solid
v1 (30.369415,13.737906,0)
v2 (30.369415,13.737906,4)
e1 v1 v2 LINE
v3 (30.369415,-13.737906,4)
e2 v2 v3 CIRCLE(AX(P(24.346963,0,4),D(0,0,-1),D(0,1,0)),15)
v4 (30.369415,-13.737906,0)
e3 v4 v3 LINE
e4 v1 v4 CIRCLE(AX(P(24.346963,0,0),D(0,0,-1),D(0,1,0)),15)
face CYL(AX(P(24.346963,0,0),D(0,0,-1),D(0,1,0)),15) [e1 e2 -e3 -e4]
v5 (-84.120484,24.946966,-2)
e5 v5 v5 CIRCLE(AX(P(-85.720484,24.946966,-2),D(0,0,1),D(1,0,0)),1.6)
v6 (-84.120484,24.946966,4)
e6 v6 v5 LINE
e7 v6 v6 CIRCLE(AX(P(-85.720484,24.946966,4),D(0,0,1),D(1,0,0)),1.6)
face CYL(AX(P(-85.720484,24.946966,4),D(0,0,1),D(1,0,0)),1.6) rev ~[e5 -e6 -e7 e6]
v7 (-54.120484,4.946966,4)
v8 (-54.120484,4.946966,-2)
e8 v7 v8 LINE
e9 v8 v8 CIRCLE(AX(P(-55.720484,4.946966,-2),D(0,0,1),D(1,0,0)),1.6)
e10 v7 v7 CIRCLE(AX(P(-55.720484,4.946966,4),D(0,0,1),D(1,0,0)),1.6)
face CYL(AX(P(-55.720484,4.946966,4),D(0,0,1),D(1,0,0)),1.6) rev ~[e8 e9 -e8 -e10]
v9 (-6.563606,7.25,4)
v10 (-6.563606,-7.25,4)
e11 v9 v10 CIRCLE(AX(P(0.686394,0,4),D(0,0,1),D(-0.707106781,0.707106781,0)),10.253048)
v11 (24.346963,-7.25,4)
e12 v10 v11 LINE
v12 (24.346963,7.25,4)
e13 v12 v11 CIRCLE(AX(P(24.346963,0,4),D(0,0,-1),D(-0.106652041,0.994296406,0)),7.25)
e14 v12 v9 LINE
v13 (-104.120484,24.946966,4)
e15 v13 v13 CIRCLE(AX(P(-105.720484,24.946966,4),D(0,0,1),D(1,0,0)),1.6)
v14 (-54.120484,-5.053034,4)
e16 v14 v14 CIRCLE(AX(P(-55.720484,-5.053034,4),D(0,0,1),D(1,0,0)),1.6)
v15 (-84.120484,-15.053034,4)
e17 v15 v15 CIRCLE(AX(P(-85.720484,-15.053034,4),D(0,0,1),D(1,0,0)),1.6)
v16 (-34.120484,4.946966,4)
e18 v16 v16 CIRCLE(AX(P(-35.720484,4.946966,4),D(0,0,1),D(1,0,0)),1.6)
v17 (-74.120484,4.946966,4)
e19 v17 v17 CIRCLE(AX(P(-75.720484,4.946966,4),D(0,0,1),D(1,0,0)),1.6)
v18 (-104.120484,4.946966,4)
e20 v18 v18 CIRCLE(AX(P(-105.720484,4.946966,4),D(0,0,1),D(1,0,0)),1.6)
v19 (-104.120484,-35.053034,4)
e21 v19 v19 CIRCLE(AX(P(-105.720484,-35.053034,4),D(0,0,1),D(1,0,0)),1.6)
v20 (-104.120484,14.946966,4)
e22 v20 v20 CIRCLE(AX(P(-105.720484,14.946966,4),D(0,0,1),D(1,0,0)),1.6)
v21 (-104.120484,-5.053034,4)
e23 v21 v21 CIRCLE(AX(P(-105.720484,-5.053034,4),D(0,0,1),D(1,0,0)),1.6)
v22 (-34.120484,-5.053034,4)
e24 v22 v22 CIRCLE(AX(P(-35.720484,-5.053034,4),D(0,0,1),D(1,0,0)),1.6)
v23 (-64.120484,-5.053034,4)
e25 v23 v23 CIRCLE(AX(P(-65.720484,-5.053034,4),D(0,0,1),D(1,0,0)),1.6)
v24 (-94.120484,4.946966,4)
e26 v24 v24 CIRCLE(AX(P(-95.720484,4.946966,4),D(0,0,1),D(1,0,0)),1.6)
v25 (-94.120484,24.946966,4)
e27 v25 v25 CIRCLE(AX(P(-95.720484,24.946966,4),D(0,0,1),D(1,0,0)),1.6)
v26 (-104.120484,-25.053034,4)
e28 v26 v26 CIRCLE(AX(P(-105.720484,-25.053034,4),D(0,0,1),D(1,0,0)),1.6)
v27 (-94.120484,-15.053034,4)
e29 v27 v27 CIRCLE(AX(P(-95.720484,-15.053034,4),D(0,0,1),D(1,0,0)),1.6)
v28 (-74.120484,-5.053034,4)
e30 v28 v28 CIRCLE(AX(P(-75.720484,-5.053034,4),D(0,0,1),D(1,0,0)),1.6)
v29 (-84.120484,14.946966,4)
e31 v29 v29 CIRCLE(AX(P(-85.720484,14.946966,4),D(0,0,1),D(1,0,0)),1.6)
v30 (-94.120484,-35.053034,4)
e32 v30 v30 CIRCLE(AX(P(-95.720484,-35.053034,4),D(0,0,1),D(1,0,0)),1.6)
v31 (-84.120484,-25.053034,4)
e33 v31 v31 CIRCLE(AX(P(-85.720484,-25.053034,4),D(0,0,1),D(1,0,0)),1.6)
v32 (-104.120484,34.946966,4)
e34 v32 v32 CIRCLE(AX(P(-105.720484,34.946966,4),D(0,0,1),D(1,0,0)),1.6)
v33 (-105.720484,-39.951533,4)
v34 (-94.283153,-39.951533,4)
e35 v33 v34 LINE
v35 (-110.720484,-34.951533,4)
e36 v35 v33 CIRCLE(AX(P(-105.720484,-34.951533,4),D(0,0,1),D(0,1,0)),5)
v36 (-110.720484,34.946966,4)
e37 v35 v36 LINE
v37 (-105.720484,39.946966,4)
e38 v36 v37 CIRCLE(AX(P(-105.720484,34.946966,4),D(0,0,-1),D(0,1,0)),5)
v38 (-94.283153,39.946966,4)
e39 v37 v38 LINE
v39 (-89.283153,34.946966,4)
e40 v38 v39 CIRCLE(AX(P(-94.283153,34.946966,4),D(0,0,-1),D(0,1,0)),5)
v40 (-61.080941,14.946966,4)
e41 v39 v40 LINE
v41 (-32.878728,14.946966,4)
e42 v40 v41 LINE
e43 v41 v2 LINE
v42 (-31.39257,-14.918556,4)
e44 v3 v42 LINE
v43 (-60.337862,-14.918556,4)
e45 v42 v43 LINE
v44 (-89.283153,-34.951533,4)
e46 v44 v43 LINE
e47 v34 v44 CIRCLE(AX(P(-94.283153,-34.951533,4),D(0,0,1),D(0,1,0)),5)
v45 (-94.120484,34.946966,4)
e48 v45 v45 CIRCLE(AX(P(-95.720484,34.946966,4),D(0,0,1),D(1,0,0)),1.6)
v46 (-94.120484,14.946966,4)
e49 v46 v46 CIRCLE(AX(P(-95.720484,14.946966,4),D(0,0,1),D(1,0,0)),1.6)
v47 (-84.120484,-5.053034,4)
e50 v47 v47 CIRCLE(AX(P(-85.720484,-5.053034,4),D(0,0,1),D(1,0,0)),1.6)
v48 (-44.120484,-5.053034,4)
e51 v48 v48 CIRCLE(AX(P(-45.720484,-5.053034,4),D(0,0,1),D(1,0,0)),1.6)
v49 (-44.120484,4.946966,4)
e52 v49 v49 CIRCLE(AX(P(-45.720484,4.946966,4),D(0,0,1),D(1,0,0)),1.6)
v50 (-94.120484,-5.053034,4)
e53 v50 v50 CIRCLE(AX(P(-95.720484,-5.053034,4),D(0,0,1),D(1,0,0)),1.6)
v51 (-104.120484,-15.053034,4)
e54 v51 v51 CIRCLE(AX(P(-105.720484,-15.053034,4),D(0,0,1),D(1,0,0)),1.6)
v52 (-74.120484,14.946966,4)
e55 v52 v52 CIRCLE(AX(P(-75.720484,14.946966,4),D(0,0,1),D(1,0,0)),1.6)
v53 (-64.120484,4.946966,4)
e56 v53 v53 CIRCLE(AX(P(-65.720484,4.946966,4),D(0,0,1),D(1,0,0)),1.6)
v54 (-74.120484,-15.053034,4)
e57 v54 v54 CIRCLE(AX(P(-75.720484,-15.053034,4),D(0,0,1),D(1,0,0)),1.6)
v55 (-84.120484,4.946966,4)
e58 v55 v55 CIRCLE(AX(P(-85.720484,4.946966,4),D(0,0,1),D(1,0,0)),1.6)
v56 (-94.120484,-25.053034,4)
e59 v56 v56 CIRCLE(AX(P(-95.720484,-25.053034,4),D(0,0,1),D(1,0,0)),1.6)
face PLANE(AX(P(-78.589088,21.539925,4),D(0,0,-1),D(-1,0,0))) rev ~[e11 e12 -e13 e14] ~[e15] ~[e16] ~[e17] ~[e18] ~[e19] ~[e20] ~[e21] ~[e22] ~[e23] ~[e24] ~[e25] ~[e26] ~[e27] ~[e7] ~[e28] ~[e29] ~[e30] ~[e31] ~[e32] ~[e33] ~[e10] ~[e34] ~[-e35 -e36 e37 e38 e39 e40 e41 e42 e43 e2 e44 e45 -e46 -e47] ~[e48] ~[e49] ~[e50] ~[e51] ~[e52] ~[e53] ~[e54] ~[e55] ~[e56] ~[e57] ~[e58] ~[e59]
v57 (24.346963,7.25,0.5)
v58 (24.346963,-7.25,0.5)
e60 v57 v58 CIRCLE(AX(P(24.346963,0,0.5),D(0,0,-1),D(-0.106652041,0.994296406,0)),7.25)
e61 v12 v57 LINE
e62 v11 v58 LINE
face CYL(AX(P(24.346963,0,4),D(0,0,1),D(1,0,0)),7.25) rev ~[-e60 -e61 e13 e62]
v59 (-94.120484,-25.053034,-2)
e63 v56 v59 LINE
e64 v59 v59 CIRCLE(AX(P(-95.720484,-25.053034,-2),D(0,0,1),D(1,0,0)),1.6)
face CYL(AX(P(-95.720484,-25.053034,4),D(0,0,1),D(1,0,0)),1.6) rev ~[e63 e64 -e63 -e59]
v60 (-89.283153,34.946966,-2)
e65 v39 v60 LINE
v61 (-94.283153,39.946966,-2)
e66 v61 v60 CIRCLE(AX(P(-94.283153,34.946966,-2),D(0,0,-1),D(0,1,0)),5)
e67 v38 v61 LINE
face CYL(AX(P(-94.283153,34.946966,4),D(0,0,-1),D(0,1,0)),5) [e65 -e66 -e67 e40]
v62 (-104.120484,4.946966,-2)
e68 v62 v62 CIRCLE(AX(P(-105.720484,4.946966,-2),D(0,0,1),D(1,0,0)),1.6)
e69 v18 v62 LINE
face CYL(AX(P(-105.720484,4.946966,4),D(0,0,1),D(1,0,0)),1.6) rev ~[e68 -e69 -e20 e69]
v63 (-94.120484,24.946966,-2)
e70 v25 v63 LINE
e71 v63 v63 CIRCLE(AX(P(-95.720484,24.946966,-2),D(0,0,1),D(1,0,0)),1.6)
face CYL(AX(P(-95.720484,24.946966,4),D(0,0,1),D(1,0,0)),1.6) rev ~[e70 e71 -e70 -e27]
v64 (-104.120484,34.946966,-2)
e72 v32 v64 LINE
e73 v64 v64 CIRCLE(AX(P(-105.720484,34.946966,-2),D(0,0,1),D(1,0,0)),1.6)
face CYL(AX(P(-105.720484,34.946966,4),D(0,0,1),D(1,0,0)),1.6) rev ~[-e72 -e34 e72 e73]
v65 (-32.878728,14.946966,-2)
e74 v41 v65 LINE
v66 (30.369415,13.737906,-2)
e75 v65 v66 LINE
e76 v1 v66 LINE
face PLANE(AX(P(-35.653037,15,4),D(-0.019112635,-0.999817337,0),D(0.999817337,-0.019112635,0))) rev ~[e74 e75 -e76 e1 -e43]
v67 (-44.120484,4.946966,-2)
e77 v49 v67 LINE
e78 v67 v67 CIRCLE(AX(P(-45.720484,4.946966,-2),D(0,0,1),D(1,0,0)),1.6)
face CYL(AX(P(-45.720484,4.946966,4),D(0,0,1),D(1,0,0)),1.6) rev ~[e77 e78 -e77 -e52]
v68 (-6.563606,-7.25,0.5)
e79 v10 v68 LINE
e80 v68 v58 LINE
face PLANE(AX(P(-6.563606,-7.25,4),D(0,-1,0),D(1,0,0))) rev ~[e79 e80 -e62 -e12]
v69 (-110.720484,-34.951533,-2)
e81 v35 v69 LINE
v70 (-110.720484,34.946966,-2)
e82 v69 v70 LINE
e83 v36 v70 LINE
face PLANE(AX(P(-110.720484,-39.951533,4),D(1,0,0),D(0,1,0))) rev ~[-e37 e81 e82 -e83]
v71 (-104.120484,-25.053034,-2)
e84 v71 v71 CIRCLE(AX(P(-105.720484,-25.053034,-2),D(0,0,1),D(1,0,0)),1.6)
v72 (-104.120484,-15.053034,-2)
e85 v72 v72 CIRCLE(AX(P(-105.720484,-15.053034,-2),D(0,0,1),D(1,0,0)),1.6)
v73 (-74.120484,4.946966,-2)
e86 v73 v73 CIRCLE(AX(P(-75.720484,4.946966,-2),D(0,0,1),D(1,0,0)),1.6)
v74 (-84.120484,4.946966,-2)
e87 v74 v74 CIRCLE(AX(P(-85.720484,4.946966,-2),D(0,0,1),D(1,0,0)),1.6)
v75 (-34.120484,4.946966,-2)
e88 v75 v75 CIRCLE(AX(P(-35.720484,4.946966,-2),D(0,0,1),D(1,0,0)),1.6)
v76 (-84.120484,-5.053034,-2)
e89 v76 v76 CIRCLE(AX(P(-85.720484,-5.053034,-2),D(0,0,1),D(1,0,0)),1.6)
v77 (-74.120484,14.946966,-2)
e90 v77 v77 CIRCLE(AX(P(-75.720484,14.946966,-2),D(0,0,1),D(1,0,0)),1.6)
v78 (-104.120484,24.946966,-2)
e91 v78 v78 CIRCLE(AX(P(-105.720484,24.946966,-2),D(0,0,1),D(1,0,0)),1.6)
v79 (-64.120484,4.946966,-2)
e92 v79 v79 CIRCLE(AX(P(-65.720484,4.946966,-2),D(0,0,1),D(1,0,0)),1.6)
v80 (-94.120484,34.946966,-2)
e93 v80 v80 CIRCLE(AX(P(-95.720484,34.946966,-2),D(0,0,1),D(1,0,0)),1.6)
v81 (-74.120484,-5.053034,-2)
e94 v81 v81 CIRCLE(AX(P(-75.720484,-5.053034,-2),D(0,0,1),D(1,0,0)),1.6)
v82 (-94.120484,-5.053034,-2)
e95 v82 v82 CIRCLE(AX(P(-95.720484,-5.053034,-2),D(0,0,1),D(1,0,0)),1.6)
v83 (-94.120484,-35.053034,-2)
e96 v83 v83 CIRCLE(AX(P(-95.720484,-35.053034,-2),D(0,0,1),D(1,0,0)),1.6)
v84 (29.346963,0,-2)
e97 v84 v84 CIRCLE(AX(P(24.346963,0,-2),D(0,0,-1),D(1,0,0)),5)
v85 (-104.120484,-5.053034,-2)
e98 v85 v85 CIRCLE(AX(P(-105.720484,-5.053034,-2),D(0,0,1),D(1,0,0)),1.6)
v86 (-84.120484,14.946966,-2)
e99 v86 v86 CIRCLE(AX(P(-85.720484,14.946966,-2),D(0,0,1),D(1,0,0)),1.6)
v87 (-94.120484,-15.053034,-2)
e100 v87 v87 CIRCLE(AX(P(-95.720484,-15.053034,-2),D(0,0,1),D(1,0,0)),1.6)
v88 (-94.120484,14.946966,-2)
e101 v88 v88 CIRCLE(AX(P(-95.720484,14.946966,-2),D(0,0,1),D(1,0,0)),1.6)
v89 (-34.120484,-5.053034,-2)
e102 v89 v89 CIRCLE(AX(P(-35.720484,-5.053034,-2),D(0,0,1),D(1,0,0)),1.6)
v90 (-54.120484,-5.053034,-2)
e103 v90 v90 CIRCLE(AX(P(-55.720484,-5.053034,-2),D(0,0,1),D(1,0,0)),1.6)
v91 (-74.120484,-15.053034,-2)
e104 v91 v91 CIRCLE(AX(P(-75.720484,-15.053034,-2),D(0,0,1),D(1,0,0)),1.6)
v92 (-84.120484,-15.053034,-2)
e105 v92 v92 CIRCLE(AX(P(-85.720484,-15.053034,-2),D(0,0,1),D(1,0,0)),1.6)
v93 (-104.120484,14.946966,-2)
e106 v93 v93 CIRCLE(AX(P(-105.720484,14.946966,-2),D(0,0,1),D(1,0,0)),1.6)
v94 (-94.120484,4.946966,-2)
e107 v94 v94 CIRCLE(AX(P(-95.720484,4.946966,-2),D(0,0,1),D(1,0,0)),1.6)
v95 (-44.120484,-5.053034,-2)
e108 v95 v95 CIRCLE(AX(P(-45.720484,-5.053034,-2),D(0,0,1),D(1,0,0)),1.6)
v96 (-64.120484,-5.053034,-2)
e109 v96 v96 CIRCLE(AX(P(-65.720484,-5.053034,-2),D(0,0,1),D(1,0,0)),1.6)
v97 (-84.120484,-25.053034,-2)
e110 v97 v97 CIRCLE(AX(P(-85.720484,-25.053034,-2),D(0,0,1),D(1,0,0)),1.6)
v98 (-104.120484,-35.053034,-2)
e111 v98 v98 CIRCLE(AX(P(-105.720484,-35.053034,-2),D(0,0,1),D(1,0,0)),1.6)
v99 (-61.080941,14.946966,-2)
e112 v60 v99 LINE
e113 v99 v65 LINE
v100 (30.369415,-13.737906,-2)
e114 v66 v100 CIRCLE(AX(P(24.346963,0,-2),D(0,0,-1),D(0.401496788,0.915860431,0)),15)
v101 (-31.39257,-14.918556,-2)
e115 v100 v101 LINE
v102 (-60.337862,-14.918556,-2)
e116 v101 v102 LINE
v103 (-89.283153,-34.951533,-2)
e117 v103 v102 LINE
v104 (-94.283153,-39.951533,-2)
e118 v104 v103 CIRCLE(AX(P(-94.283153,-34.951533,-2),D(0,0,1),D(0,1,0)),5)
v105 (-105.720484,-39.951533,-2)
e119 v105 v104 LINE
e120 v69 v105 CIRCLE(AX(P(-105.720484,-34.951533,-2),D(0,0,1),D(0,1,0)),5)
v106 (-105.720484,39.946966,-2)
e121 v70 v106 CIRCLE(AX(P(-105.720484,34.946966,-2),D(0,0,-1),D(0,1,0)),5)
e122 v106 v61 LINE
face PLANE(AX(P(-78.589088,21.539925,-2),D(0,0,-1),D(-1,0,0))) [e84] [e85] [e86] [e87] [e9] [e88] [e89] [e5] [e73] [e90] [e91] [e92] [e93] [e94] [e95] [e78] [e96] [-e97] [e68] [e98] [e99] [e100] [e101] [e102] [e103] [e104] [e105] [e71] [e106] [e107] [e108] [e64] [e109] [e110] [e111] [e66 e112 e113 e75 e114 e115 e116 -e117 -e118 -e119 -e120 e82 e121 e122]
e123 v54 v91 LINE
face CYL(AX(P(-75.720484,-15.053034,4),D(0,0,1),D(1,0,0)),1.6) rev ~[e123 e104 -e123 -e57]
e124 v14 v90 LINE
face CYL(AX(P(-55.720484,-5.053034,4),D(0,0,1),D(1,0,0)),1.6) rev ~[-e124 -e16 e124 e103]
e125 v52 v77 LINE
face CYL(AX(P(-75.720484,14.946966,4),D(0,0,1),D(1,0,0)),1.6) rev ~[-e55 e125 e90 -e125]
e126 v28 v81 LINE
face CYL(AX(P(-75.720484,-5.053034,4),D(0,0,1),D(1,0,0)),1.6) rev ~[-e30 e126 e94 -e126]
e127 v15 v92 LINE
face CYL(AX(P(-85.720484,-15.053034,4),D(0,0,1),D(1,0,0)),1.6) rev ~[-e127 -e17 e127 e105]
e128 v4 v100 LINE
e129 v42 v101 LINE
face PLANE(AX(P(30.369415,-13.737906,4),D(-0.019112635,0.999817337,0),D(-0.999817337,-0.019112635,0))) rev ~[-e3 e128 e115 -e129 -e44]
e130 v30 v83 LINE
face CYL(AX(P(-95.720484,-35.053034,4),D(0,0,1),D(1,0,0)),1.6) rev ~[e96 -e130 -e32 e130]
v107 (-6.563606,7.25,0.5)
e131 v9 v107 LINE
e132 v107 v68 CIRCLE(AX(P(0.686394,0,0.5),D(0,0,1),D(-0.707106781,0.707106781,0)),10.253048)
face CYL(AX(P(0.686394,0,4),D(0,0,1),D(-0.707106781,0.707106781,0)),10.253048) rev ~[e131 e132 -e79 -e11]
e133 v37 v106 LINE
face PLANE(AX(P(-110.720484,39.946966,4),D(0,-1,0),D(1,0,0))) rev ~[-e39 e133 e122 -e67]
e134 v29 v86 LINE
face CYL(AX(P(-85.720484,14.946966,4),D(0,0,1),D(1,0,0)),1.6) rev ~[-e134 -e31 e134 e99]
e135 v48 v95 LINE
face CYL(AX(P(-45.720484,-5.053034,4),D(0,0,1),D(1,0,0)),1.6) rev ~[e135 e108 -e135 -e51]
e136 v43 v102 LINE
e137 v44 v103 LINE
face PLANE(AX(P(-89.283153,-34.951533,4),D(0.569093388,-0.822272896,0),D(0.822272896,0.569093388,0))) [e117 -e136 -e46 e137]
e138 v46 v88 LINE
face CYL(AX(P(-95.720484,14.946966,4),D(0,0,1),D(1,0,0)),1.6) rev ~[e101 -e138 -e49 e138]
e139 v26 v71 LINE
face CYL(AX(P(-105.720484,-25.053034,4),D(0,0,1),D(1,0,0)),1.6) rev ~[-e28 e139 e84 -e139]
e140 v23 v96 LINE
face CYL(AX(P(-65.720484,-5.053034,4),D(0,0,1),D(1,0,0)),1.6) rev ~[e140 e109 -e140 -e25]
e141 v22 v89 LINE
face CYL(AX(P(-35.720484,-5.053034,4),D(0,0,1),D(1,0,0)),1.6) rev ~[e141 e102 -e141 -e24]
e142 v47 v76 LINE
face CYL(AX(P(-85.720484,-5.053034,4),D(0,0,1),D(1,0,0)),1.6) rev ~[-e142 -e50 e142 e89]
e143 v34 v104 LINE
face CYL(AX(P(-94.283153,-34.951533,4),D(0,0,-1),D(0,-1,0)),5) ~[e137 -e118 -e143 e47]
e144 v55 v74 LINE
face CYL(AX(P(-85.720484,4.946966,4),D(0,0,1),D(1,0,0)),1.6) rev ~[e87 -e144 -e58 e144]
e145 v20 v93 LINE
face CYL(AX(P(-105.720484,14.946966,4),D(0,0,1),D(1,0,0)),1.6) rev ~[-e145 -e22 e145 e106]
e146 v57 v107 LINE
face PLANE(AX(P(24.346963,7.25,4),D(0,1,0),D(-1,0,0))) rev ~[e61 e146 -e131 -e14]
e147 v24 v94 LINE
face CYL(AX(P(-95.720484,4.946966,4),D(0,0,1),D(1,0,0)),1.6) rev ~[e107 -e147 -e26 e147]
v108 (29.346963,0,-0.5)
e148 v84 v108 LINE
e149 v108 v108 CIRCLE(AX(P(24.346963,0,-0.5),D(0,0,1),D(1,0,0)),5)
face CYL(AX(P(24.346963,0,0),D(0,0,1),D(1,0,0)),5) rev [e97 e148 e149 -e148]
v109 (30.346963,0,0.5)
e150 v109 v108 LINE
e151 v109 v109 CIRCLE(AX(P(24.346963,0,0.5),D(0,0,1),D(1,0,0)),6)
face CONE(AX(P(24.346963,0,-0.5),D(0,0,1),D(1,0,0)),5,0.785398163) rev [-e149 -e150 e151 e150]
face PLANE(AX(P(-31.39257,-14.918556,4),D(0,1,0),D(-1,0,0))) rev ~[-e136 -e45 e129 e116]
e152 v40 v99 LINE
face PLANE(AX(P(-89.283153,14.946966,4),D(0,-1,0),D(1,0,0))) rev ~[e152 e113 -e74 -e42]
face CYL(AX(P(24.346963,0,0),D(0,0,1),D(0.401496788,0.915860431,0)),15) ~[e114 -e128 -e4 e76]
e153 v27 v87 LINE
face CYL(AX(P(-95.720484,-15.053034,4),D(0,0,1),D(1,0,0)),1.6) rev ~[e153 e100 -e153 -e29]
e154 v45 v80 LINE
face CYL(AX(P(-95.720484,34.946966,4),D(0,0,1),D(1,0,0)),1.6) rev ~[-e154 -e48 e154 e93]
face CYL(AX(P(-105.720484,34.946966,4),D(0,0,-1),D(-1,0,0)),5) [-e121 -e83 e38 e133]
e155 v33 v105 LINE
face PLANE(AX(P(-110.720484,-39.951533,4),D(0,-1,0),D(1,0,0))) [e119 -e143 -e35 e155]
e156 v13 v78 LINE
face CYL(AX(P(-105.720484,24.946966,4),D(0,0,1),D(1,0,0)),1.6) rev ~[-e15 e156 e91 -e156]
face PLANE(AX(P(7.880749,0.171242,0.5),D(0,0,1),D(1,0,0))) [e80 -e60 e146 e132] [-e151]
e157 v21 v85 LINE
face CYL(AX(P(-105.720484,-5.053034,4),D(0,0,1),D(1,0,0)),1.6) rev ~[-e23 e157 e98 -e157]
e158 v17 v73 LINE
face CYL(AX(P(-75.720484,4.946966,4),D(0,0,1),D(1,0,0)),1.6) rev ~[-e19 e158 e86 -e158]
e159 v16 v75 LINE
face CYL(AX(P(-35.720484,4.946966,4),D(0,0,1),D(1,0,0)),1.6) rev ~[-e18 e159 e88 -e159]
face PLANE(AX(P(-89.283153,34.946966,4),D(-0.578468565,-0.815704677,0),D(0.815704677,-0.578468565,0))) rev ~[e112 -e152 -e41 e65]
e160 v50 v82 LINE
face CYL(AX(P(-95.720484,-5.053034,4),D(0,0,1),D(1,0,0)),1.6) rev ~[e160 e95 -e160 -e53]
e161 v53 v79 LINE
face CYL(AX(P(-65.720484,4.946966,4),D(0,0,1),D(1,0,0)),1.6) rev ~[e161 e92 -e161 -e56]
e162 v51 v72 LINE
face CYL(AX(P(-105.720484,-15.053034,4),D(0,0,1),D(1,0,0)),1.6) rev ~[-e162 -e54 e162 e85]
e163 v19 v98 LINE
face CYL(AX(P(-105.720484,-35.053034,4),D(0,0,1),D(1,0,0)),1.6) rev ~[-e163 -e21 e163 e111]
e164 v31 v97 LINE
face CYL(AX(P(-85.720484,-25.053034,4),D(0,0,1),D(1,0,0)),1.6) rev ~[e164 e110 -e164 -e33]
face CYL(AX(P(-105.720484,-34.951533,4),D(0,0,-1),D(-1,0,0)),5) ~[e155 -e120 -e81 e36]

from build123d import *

# Parameters (mm, degrees)
Y_KSEKLIK_EKSTR_ZYON1_DEPTH = 4
KES_EKSTR_ZYON1_START       = -4
KES_EKSTR_ZYON1_DEPTH       = 4
IZIM3_R                     = 5
KES_EKSTR_ZYON2_DEPTH       = 4
KES_EKSTR_ZYON3_DEPTH       = 4
IZIM10_R                    = 7.25
IZIM10_R_2                  = 5
KES_EKSTR_ZYON4_DEPTH       = 3.5
IZIM11_R                    = 5
Y_KSEKLIK_EKSTR_ZYON3_DEPTH = 2
PAH2_SIZE                   = 1
Y_KSEKLIK_EKSTR_ZYON4_DEPTH = 6
Y_KSEKLIK_EKSTR_ZYON5_DEPTH = 6
IZIM14_W                    = 60
IZIM14_H                    = 79.898499323
Y_KSEKLIK_EKSTR_ZYON6_DEPTH = 6
KES_EKSTR_ZYON5_DEPTH       = 11
RADYUS1_R                   = 5
Y_KSEKLIK_EKSTR_ZYON7_DEPTH = 6
KES_EKSTR_ZYON6_DEPTH       = 3.5
IZIM19_R                    = 1.6
KES_EKSTR_ZYON7_DEPTH       = 11


with BuildPart() as part:
    # Çizim1 → Yükseklik-Ekstrüzyon1 (new body)
    with BuildSketch(Plane.XY):
        with BuildLine():
            Line((-35.653037037, 15), (24.346962963, 15))
            ThreePointArc((24.346962963, 15), (39.346962963, 0), (24.346962963, -15))
            Line((24.346962963, -15), (-35.653037037, -15))
            ThreePointArc((-35.653037037, -15), (-50.653037037, 0), (-35.653037037, 15))
        make_face()
    extrude(amount=Y_KSEKLIK_EKSTR_ZYON1_DEPTH)

    # Çizim2 → Kes-Ekstrüzyon1 (cut)
    with BuildSketch(Plane.XY.offset(4).offset(KES_EKSTR_ZYON1_START)):
        Polygon((-11.560212186, 15), (-35.653037037, 15), (-33.243754552, 4.590717515), (-10.375990279, 9.883580305), align=None)
        Polygon((-33.243754552, -4.590717515), (-35.653037037, -15), (-11.560212186, -15), (-10.375990279, -9.883580305), align=None)
        with BuildLine():
            Line((-10.375990279, 9.883580305), (-9.150929701, 4.590717515))
            Line((-9.150929701, 4.590717515), (30.369414779, 13.737906468))
            ThreePointArc((30.369414779, 13.737906468), (27.42360098, 14.681086421), (24.346962963, 15))
            Line((24.346962963, 15), (11.729453249, 15))
            Line((11.729453249, 15), (-10.375990279, 9.883580305))
        make_face()
        with BuildLine():
            Line((-9.150929701, -4.590717515), (-10.375990279, -9.883580305))
            Line((-10.375990279, -9.883580305), (11.729453249, -15))
            Line((11.729453249, -15), (24.346962963, -15))
            ThreePointArc((24.346962963, -15), (27.42360098, -14.681086421), (30.369414779, -13.737906468))
            Line((30.369414779, -13.737906468), (-9.150929701, -4.590717515))
        make_face()
    extrude(amount=KES_EKSTR_ZYON1_DEPTH, mode=Mode.SUBTRACT)


with BuildPart() as kes_ekstr_zyon1_piece_1:
    # of the separate pieces the step leaves, piece 1, a body of its own (kes_ekstr_zyon1_pieces)
    add(part.part.solids().sort_by_distance((-35.653037037, -15, 0))[0])

    # Çizim3 → Kes-Ekstrüzyon2 (cut)
    with BuildSketch(Plane.XY.offset(4)):
        with Locations((24.346962963, 0)):
            Circle(IZIM3_R)
    extrude(amount=-KES_EKSTR_ZYON2_DEPTH, mode=Mode.SUBTRACT)

    # Çizim10 → Kes-Ekstrüzyon4 (cut)
    # profile 1 of 2: a face of its own
    with BuildSketch(Plane.XY.offset(4)):
        with BuildLine():
            ThreePointArc((22.99921211, -7.123627421), (17.102780918, 0.290390243), (23.573735665, 7.20864894))
            Line((23.573735665, 7.20864894), (5.173034472, 5.234919246))
            ThreePointArc((5.173034472, 5.234919246), (0.709580704, 0.698667438), (5.245832511, -3.76478633))
            Line((5.245832511, -3.76478633), (22.99921211, -7.123627421))
        make_face()
    # profile 2 of 2: a face of its own
    with BuildSketch(Plane.XY.offset(4)):
        with Locations((24.346962963, 0)):
            Circle(IZIM10_R)
        with Locations((24.346962963, 0)):
            Circle(IZIM10_R_2, mode=Mode.SUBTRACT)
    extrude(amount=-KES_EKSTR_ZYON4_DEPTH, mode=Mode.SUBTRACT)

    # Çizim11 → Yükseklik-Ekstrüzyon3 (add)
    with BuildSketch(Plane(origin=(0, 0, 0), x_dir=(-1, 0, 0), z_dir=(0, 0, -1))):
        with BuildLine():
            Line((33.243754552, -4.590717515), (35.653037037, -15))
            ThreePointArc((35.653037037, -15), (50.653037037, 0), (35.653037037, 15))
            Line((35.653037037, 15), (33.243754552, 4.590717515))
            Line((33.243754552, 4.590717515), (10.375990279, 9.883580305))
            Line((10.375990279, 9.883580305), (9.150929701, 4.590717515))
            Line((9.150929701, 4.590717515), (-30.369414779, 13.737906468))
            ThreePointArc((-30.369414779, 13.737906468), (-39.346962963, 0), (-30.369414779, -13.737906468))
            Line((-30.369414779, -13.737906468), (9.150929701, -4.590717515))
            Line((9.150929701, -4.590717515), (10.375990279, -9.883580305))
            Line((10.375990279, -9.883580305), (33.243754552, -4.590717515))
        make_face()
        with Locations(Location((-24.346962963, 0, 0), (0, 0, 180))):
            Circle(IZIM11_R, mode=Mode.SUBTRACT)
    extrude(amount=Y_KSEKLIK_EKSTR_ZYON3_DEPTH)

    # Pah2
    pah2_edges = [kes_ekstr_zyon1_piece_1.edges().sort_by_distance(p)[0] for p in [
        (19.346962963, 0, 0.5),
    ]]
    chamfer(pah2_edges, length=PAH2_SIZE)

    # Çizim12 → Yükseklik-Ekstrüzyon4 (add)
    with BuildSketch(Plane.XY.offset(4)):
        Polygon((-35.653037037, 15), (30.369414779, 13.737906468), (-9.150929701, 4.590717515), (-10.375990279, 9.883580305), (-33.243754552, 4.590717515), align=None)
        Polygon((30.369414779, -13.737906468), (-35.653037037, -15), (-33.243754552, -4.590717515), (-10.375990279, -9.883580305), (-9.150929701, -4.590717515), align=None)
    extrude(amount=-Y_KSEKLIK_EKSTR_ZYON4_DEPTH)

    # Çizim13 → Yükseklik-Ekstrüzyon5 (add)
    with BuildSketch(Plane.XY.offset(4)):
        with BuildLine():
            Line((-32.878727884, 14.946965956), (-32.532221989, 34.859974216))
            ThreePointArc((-32.532221989, 34.859974216), (-33.965307671, 38.451608684), (-37.531465176, 39.946965956))
            Line((-37.531465176, 39.946965956), (-45.720483853, 39.946965956))
            ThreePointArc((-45.720483853, 39.946965956), (-49.256017759, 38.482499862), (-50.720483853, 34.946965956))
            Line((-50.720483853, 34.946965956), (-50.720483853, -34.951533367))
            ThreePointArc((-50.720483853, -34.951533367), (-49.256017759, -38.487067273), (-45.720483853, -39.951533367))
            Line((-45.720483853, -39.951533367), (-37.878727884, -39.951533367))
            ThreePointArc((-37.878727884, -39.951533367), (-34.343193978, -38.487067273), (-32.878727884, -34.951533367))
            Line((-32.878727884, -34.951533367), (-32.878727884, 14.946965956))
        make_face()
    extrude(amount=-Y_KSEKLIK_EKSTR_ZYON5_DEPTH)

    # Çizim14 → Yükseklik-Ekstrüzyon6 (add)
    with BuildSketch(Plane.XY.offset(4)):
        with Locations((-80.720483853, -0.002283706)):
            Rectangle(IZIM14_W, IZIM14_H)
    extrude(amount=-Y_KSEKLIK_EKSTR_ZYON6_DEPTH)

    # Çizim15 → Kes-Ekstrüzyon5 (cut)
    with BuildSketch(Plane.XY.offset(4)):
        with BuildLine():
            Line((-89.283153416, 14.946965956), (-32.878727884, 14.946965956))
            Line((-32.878727884, 14.946965956), (-32.532221989, 34.859974216))
            ThreePointArc((-32.532221989, 34.859974216), (-33.965307671, 38.451608684), (-37.531465176, 39.946965956))
            Line((-37.531465176, 39.946965956), (-45.720483853, 39.946965956))
            ThreePointArc((-45.720483853, 39.946965956), (-49.256017759, 38.482499862), (-50.720483853, 34.946965956))
            Line((-50.720483853, 34.946965956), (-50.720483853, 39.946965956))
            Line((-50.720483853, 39.946965956), (-89.283153416, 39.946965956))
            Line((-89.283153416, 39.946965956), (-89.283153416, 14.946965956))
        make_face()
        with BuildLine():
            Line((-32.878727884, -14.946965956), (-31.39257035, -14.91855638))
            Line((-31.39257035, -14.91855638), (-89.283153416, -14.91855638))
            Line((-89.283153416, -14.91855638), (-89.283153416, -39.951533367))
            Line((-89.283153416, -39.951533367), (-50.720483853, -39.951533367))
            Line((-50.720483853, -39.951533367), (-50.720483853, -34.951533367))
            ThreePointArc((-50.720483853, -34.951533367), (-49.256017759, -38.487067273), (-45.720483853, -39.951533367))
            Line((-45.720483853, -39.951533367), (-37.878727884, -39.951533367))
            ThreePointArc((-37.878727884, -39.951533367), (-34.343193978, -38.487067273), (-32.878727884, -34.951533367))
            Line((-32.878727884, -34.951533367), (-32.878727884, -14.946965956))
        make_face()
    extrude(amount=-KES_EKSTR_ZYON5_DEPTH, mode=Mode.SUBTRACT)

    # Radyus1
    radyus1_edges = [kes_ekstr_zyon1_piece_1.edges().sort_by_distance(p)[0] for p in [
        (-110.720483853, 39.946965956, 1),
        (-110.720483853, -39.951533367, 1),
        (-89.283153416, 39.946965956, 1),
        (-89.283153416, -39.951533367, 1),
    ]]
    fillet(radyus1_edges, radius=RADYUS1_R)

    # Çizim17 → Yükseklik-Ekstrüzyon7 (add)
    with BuildSketch(Plane.XY.offset(4)):
        Polygon((-89.283153416, 34.946965956), (-61.08094065, 14.946965956), (-89.283153416, 14.946965956), align=None)
        Polygon((-89.283153416, -34.951533367), (-60.337861883, -14.91855638), (-89.283153416, -14.91855638), align=None)
    extrude(amount=-Y_KSEKLIK_EKSTR_ZYON7_DEPTH)

    # Çizim18 → Kes-Ekstrüzyon6 (cut)
    with BuildSketch(Plane.XY.offset(4)):
        with BuildLine():
            ThreePointArc((23.573735665, 7.20864894), (23.95979686, 7.239654854), (24.346962963, 7.25))
            Line((24.346962963, 7.25), (-6.563606273, 7.25))
            ThreePointArc((-6.563606273, 7.25), (-9.566654601, 0), (-6.563606273, -7.25))
            Line((-6.563606273, -7.25), (24.346962963, -7.25))
            ThreePointArc((24.346962963, -7.25), (23.670131671, -7.218337717), (22.99921211, -7.123627421))
            Line((22.99921211, -7.123627421), (5.245832511, -3.76478633))
            ThreePointArc((5.245832511, -3.76478633), (0.709580704, 0.698667438), (5.173034472, 5.234919246))
            Line((5.173034472, 5.234919246), (23.573735665, 7.20864894))
        make_face()
    extrude(amount=-KES_EKSTR_ZYON6_DEPTH, mode=Mode.SUBTRACT)

    # Çizim19 → Kes-Ekstrüzyon7 (cut)
    with BuildSketch(Plane.XY.offset(4)):
        with Locations((-105.720483853, 34.946965956)):
            Circle(IZIM19_R)
        with Locations((-95.720483853, 34.946965956)):
            Circle(IZIM19_R)
        with Locations((-95.720483853, 24.946965956)):
            Circle(IZIM19_R)
        with Locations((-85.720483853, 24.946965956)):
            Circle(IZIM19_R)
        with Locations((-95.720483853, 14.946965956)):
            Circle(IZIM19_R)
        with Locations((-85.720483853, 14.946965956)):
            Circle(IZIM19_R)
        with Locations((-75.720483853, 14.946965956)):
            Circle(IZIM19_R)
        with Locations((-95.720483853, 4.946965956)):
            Circle(IZIM19_R)
        with Locations((-85.720483853, 4.946965956)):
            Circle(IZIM19_R)
        with Locations((-75.720483853, 4.946965956)):
            Circle(IZIM19_R)
        with Locations((-65.720483853, 4.946965956)):
            Circle(IZIM19_R)
        with Locations((-55.720483853, 4.946965956)):
            Circle(IZIM19_R)
        with Locations((-45.720483853, 4.946965956)):
            Circle(IZIM19_R)
        with Locations((-35.720483853, 4.946965956)):
            Circle(IZIM19_R)
        with Locations((-95.720483853, -5.053034044)):
            Circle(IZIM19_R)
        with Locations((-85.720483853, -5.053034044)):
            Circle(IZIM19_R)
        with Locations((-75.720483853, -5.053034044)):
            Circle(IZIM19_R)
        with Locations((-65.720483853, -5.053034044)):
            Circle(IZIM19_R)
        with Locations((-55.720483853, -5.053034044)):
            Circle(IZIM19_R)
        with Locations((-45.720483853, -5.053034044)):
            Circle(IZIM19_R)
        with Locations((-35.720483853, -5.053034044)):
            Circle(IZIM19_R)
        with Locations((-95.720483853, -15.053034044)):
            Circle(IZIM19_R)
        with Locations((-85.720483853, -15.053034044)):
            Circle(IZIM19_R)
        with Locations((-75.720483853, -15.053034044)):
            Circle(IZIM19_R)
        with Locations((-95.720483853, -25.053034044)):
            Circle(IZIM19_R)
        with Locations((-85.720483853, -25.053034044)):
            Circle(IZIM19_R)
        with Locations((-95.720483853, -35.053034044)):
            Circle(IZIM19_R)
        with Locations((-105.720483853, 24.946965956)):
            Circle(IZIM19_R)
        with Locations((-105.720483853, 14.946965956)):
            Circle(IZIM19_R)
        with Locations((-105.720483853, 4.946965956)):
            Circle(IZIM19_R)
        with Locations((-105.720483853, -5.053034044)):
            Circle(IZIM19_R)
        with Locations((-105.720483853, -15.053034044)):
            Circle(IZIM19_R)
        with Locations((-105.720483853, -25.053034044)):
            Circle(IZIM19_R)
        with Locations((-105.720483853, -35.053034044)):
            Circle(IZIM19_R)
    extrude(amount=-KES_EKSTR_ZYON7_DEPTH, mode=Mode.SUBTRACT)


with BuildPart() as kes_ekstr_zyon1_piece_2:
    # of the separate pieces the step leaves, piece 2, a body of its own (kes_ekstr_zyon1_pieces)
    add(part.part.solids().sort_by_distance((-11.560212186, 15, 0))[0])


with BuildPart() as kes_ekstr_zyon1_piece_3:
    # of the separate pieces the step leaves, piece 3, a body of its own (kes_ekstr_zyon1_pieces)
    add(part.part.solids().sort_by_distance((11.729453249, -15, 0))[0])


with BuildPart() as kes_ekstr_zyon3_tool:
    # Çizim5 → Kes-Ekstrüzyon3 (new body)
    with BuildSketch(Plane.XY.offset(4)):
        Polygon((-10.375990279, -9.883580305), (-11.560212186, -15), (11.729453249, -15), align=None)
        Polygon((-11.560212186, 15), (-10.375990279, 9.883580305), (11.729453249, 15), align=None)
    extrude(amount=-KES_EKSTR_ZYON3_DEPTH)


with BuildPart() as kes_ekstr_zyon1_piece_2_1:
    add(kes_ekstr_zyon1_piece_2.part)

    # Kes-Ekstrüzyon3: cut by kes_ekstr_zyon3_tool
    add(kes_ekstr_zyon3_tool.part, mode=Mode.SUBTRACT)


with BuildPart() as kes_ekstr_zyon1_piece_3_1:
    add(kes_ekstr_zyon1_piece_3.part)

    # Kes-Ekstrüzyon3: cut by kes_ekstr_zyon3_tool
    add(kes_ekstr_zyon3_tool.part, mode=Mode.SUBTRACT)


solid = kes_ekstr_zyon1_piece_1.part
